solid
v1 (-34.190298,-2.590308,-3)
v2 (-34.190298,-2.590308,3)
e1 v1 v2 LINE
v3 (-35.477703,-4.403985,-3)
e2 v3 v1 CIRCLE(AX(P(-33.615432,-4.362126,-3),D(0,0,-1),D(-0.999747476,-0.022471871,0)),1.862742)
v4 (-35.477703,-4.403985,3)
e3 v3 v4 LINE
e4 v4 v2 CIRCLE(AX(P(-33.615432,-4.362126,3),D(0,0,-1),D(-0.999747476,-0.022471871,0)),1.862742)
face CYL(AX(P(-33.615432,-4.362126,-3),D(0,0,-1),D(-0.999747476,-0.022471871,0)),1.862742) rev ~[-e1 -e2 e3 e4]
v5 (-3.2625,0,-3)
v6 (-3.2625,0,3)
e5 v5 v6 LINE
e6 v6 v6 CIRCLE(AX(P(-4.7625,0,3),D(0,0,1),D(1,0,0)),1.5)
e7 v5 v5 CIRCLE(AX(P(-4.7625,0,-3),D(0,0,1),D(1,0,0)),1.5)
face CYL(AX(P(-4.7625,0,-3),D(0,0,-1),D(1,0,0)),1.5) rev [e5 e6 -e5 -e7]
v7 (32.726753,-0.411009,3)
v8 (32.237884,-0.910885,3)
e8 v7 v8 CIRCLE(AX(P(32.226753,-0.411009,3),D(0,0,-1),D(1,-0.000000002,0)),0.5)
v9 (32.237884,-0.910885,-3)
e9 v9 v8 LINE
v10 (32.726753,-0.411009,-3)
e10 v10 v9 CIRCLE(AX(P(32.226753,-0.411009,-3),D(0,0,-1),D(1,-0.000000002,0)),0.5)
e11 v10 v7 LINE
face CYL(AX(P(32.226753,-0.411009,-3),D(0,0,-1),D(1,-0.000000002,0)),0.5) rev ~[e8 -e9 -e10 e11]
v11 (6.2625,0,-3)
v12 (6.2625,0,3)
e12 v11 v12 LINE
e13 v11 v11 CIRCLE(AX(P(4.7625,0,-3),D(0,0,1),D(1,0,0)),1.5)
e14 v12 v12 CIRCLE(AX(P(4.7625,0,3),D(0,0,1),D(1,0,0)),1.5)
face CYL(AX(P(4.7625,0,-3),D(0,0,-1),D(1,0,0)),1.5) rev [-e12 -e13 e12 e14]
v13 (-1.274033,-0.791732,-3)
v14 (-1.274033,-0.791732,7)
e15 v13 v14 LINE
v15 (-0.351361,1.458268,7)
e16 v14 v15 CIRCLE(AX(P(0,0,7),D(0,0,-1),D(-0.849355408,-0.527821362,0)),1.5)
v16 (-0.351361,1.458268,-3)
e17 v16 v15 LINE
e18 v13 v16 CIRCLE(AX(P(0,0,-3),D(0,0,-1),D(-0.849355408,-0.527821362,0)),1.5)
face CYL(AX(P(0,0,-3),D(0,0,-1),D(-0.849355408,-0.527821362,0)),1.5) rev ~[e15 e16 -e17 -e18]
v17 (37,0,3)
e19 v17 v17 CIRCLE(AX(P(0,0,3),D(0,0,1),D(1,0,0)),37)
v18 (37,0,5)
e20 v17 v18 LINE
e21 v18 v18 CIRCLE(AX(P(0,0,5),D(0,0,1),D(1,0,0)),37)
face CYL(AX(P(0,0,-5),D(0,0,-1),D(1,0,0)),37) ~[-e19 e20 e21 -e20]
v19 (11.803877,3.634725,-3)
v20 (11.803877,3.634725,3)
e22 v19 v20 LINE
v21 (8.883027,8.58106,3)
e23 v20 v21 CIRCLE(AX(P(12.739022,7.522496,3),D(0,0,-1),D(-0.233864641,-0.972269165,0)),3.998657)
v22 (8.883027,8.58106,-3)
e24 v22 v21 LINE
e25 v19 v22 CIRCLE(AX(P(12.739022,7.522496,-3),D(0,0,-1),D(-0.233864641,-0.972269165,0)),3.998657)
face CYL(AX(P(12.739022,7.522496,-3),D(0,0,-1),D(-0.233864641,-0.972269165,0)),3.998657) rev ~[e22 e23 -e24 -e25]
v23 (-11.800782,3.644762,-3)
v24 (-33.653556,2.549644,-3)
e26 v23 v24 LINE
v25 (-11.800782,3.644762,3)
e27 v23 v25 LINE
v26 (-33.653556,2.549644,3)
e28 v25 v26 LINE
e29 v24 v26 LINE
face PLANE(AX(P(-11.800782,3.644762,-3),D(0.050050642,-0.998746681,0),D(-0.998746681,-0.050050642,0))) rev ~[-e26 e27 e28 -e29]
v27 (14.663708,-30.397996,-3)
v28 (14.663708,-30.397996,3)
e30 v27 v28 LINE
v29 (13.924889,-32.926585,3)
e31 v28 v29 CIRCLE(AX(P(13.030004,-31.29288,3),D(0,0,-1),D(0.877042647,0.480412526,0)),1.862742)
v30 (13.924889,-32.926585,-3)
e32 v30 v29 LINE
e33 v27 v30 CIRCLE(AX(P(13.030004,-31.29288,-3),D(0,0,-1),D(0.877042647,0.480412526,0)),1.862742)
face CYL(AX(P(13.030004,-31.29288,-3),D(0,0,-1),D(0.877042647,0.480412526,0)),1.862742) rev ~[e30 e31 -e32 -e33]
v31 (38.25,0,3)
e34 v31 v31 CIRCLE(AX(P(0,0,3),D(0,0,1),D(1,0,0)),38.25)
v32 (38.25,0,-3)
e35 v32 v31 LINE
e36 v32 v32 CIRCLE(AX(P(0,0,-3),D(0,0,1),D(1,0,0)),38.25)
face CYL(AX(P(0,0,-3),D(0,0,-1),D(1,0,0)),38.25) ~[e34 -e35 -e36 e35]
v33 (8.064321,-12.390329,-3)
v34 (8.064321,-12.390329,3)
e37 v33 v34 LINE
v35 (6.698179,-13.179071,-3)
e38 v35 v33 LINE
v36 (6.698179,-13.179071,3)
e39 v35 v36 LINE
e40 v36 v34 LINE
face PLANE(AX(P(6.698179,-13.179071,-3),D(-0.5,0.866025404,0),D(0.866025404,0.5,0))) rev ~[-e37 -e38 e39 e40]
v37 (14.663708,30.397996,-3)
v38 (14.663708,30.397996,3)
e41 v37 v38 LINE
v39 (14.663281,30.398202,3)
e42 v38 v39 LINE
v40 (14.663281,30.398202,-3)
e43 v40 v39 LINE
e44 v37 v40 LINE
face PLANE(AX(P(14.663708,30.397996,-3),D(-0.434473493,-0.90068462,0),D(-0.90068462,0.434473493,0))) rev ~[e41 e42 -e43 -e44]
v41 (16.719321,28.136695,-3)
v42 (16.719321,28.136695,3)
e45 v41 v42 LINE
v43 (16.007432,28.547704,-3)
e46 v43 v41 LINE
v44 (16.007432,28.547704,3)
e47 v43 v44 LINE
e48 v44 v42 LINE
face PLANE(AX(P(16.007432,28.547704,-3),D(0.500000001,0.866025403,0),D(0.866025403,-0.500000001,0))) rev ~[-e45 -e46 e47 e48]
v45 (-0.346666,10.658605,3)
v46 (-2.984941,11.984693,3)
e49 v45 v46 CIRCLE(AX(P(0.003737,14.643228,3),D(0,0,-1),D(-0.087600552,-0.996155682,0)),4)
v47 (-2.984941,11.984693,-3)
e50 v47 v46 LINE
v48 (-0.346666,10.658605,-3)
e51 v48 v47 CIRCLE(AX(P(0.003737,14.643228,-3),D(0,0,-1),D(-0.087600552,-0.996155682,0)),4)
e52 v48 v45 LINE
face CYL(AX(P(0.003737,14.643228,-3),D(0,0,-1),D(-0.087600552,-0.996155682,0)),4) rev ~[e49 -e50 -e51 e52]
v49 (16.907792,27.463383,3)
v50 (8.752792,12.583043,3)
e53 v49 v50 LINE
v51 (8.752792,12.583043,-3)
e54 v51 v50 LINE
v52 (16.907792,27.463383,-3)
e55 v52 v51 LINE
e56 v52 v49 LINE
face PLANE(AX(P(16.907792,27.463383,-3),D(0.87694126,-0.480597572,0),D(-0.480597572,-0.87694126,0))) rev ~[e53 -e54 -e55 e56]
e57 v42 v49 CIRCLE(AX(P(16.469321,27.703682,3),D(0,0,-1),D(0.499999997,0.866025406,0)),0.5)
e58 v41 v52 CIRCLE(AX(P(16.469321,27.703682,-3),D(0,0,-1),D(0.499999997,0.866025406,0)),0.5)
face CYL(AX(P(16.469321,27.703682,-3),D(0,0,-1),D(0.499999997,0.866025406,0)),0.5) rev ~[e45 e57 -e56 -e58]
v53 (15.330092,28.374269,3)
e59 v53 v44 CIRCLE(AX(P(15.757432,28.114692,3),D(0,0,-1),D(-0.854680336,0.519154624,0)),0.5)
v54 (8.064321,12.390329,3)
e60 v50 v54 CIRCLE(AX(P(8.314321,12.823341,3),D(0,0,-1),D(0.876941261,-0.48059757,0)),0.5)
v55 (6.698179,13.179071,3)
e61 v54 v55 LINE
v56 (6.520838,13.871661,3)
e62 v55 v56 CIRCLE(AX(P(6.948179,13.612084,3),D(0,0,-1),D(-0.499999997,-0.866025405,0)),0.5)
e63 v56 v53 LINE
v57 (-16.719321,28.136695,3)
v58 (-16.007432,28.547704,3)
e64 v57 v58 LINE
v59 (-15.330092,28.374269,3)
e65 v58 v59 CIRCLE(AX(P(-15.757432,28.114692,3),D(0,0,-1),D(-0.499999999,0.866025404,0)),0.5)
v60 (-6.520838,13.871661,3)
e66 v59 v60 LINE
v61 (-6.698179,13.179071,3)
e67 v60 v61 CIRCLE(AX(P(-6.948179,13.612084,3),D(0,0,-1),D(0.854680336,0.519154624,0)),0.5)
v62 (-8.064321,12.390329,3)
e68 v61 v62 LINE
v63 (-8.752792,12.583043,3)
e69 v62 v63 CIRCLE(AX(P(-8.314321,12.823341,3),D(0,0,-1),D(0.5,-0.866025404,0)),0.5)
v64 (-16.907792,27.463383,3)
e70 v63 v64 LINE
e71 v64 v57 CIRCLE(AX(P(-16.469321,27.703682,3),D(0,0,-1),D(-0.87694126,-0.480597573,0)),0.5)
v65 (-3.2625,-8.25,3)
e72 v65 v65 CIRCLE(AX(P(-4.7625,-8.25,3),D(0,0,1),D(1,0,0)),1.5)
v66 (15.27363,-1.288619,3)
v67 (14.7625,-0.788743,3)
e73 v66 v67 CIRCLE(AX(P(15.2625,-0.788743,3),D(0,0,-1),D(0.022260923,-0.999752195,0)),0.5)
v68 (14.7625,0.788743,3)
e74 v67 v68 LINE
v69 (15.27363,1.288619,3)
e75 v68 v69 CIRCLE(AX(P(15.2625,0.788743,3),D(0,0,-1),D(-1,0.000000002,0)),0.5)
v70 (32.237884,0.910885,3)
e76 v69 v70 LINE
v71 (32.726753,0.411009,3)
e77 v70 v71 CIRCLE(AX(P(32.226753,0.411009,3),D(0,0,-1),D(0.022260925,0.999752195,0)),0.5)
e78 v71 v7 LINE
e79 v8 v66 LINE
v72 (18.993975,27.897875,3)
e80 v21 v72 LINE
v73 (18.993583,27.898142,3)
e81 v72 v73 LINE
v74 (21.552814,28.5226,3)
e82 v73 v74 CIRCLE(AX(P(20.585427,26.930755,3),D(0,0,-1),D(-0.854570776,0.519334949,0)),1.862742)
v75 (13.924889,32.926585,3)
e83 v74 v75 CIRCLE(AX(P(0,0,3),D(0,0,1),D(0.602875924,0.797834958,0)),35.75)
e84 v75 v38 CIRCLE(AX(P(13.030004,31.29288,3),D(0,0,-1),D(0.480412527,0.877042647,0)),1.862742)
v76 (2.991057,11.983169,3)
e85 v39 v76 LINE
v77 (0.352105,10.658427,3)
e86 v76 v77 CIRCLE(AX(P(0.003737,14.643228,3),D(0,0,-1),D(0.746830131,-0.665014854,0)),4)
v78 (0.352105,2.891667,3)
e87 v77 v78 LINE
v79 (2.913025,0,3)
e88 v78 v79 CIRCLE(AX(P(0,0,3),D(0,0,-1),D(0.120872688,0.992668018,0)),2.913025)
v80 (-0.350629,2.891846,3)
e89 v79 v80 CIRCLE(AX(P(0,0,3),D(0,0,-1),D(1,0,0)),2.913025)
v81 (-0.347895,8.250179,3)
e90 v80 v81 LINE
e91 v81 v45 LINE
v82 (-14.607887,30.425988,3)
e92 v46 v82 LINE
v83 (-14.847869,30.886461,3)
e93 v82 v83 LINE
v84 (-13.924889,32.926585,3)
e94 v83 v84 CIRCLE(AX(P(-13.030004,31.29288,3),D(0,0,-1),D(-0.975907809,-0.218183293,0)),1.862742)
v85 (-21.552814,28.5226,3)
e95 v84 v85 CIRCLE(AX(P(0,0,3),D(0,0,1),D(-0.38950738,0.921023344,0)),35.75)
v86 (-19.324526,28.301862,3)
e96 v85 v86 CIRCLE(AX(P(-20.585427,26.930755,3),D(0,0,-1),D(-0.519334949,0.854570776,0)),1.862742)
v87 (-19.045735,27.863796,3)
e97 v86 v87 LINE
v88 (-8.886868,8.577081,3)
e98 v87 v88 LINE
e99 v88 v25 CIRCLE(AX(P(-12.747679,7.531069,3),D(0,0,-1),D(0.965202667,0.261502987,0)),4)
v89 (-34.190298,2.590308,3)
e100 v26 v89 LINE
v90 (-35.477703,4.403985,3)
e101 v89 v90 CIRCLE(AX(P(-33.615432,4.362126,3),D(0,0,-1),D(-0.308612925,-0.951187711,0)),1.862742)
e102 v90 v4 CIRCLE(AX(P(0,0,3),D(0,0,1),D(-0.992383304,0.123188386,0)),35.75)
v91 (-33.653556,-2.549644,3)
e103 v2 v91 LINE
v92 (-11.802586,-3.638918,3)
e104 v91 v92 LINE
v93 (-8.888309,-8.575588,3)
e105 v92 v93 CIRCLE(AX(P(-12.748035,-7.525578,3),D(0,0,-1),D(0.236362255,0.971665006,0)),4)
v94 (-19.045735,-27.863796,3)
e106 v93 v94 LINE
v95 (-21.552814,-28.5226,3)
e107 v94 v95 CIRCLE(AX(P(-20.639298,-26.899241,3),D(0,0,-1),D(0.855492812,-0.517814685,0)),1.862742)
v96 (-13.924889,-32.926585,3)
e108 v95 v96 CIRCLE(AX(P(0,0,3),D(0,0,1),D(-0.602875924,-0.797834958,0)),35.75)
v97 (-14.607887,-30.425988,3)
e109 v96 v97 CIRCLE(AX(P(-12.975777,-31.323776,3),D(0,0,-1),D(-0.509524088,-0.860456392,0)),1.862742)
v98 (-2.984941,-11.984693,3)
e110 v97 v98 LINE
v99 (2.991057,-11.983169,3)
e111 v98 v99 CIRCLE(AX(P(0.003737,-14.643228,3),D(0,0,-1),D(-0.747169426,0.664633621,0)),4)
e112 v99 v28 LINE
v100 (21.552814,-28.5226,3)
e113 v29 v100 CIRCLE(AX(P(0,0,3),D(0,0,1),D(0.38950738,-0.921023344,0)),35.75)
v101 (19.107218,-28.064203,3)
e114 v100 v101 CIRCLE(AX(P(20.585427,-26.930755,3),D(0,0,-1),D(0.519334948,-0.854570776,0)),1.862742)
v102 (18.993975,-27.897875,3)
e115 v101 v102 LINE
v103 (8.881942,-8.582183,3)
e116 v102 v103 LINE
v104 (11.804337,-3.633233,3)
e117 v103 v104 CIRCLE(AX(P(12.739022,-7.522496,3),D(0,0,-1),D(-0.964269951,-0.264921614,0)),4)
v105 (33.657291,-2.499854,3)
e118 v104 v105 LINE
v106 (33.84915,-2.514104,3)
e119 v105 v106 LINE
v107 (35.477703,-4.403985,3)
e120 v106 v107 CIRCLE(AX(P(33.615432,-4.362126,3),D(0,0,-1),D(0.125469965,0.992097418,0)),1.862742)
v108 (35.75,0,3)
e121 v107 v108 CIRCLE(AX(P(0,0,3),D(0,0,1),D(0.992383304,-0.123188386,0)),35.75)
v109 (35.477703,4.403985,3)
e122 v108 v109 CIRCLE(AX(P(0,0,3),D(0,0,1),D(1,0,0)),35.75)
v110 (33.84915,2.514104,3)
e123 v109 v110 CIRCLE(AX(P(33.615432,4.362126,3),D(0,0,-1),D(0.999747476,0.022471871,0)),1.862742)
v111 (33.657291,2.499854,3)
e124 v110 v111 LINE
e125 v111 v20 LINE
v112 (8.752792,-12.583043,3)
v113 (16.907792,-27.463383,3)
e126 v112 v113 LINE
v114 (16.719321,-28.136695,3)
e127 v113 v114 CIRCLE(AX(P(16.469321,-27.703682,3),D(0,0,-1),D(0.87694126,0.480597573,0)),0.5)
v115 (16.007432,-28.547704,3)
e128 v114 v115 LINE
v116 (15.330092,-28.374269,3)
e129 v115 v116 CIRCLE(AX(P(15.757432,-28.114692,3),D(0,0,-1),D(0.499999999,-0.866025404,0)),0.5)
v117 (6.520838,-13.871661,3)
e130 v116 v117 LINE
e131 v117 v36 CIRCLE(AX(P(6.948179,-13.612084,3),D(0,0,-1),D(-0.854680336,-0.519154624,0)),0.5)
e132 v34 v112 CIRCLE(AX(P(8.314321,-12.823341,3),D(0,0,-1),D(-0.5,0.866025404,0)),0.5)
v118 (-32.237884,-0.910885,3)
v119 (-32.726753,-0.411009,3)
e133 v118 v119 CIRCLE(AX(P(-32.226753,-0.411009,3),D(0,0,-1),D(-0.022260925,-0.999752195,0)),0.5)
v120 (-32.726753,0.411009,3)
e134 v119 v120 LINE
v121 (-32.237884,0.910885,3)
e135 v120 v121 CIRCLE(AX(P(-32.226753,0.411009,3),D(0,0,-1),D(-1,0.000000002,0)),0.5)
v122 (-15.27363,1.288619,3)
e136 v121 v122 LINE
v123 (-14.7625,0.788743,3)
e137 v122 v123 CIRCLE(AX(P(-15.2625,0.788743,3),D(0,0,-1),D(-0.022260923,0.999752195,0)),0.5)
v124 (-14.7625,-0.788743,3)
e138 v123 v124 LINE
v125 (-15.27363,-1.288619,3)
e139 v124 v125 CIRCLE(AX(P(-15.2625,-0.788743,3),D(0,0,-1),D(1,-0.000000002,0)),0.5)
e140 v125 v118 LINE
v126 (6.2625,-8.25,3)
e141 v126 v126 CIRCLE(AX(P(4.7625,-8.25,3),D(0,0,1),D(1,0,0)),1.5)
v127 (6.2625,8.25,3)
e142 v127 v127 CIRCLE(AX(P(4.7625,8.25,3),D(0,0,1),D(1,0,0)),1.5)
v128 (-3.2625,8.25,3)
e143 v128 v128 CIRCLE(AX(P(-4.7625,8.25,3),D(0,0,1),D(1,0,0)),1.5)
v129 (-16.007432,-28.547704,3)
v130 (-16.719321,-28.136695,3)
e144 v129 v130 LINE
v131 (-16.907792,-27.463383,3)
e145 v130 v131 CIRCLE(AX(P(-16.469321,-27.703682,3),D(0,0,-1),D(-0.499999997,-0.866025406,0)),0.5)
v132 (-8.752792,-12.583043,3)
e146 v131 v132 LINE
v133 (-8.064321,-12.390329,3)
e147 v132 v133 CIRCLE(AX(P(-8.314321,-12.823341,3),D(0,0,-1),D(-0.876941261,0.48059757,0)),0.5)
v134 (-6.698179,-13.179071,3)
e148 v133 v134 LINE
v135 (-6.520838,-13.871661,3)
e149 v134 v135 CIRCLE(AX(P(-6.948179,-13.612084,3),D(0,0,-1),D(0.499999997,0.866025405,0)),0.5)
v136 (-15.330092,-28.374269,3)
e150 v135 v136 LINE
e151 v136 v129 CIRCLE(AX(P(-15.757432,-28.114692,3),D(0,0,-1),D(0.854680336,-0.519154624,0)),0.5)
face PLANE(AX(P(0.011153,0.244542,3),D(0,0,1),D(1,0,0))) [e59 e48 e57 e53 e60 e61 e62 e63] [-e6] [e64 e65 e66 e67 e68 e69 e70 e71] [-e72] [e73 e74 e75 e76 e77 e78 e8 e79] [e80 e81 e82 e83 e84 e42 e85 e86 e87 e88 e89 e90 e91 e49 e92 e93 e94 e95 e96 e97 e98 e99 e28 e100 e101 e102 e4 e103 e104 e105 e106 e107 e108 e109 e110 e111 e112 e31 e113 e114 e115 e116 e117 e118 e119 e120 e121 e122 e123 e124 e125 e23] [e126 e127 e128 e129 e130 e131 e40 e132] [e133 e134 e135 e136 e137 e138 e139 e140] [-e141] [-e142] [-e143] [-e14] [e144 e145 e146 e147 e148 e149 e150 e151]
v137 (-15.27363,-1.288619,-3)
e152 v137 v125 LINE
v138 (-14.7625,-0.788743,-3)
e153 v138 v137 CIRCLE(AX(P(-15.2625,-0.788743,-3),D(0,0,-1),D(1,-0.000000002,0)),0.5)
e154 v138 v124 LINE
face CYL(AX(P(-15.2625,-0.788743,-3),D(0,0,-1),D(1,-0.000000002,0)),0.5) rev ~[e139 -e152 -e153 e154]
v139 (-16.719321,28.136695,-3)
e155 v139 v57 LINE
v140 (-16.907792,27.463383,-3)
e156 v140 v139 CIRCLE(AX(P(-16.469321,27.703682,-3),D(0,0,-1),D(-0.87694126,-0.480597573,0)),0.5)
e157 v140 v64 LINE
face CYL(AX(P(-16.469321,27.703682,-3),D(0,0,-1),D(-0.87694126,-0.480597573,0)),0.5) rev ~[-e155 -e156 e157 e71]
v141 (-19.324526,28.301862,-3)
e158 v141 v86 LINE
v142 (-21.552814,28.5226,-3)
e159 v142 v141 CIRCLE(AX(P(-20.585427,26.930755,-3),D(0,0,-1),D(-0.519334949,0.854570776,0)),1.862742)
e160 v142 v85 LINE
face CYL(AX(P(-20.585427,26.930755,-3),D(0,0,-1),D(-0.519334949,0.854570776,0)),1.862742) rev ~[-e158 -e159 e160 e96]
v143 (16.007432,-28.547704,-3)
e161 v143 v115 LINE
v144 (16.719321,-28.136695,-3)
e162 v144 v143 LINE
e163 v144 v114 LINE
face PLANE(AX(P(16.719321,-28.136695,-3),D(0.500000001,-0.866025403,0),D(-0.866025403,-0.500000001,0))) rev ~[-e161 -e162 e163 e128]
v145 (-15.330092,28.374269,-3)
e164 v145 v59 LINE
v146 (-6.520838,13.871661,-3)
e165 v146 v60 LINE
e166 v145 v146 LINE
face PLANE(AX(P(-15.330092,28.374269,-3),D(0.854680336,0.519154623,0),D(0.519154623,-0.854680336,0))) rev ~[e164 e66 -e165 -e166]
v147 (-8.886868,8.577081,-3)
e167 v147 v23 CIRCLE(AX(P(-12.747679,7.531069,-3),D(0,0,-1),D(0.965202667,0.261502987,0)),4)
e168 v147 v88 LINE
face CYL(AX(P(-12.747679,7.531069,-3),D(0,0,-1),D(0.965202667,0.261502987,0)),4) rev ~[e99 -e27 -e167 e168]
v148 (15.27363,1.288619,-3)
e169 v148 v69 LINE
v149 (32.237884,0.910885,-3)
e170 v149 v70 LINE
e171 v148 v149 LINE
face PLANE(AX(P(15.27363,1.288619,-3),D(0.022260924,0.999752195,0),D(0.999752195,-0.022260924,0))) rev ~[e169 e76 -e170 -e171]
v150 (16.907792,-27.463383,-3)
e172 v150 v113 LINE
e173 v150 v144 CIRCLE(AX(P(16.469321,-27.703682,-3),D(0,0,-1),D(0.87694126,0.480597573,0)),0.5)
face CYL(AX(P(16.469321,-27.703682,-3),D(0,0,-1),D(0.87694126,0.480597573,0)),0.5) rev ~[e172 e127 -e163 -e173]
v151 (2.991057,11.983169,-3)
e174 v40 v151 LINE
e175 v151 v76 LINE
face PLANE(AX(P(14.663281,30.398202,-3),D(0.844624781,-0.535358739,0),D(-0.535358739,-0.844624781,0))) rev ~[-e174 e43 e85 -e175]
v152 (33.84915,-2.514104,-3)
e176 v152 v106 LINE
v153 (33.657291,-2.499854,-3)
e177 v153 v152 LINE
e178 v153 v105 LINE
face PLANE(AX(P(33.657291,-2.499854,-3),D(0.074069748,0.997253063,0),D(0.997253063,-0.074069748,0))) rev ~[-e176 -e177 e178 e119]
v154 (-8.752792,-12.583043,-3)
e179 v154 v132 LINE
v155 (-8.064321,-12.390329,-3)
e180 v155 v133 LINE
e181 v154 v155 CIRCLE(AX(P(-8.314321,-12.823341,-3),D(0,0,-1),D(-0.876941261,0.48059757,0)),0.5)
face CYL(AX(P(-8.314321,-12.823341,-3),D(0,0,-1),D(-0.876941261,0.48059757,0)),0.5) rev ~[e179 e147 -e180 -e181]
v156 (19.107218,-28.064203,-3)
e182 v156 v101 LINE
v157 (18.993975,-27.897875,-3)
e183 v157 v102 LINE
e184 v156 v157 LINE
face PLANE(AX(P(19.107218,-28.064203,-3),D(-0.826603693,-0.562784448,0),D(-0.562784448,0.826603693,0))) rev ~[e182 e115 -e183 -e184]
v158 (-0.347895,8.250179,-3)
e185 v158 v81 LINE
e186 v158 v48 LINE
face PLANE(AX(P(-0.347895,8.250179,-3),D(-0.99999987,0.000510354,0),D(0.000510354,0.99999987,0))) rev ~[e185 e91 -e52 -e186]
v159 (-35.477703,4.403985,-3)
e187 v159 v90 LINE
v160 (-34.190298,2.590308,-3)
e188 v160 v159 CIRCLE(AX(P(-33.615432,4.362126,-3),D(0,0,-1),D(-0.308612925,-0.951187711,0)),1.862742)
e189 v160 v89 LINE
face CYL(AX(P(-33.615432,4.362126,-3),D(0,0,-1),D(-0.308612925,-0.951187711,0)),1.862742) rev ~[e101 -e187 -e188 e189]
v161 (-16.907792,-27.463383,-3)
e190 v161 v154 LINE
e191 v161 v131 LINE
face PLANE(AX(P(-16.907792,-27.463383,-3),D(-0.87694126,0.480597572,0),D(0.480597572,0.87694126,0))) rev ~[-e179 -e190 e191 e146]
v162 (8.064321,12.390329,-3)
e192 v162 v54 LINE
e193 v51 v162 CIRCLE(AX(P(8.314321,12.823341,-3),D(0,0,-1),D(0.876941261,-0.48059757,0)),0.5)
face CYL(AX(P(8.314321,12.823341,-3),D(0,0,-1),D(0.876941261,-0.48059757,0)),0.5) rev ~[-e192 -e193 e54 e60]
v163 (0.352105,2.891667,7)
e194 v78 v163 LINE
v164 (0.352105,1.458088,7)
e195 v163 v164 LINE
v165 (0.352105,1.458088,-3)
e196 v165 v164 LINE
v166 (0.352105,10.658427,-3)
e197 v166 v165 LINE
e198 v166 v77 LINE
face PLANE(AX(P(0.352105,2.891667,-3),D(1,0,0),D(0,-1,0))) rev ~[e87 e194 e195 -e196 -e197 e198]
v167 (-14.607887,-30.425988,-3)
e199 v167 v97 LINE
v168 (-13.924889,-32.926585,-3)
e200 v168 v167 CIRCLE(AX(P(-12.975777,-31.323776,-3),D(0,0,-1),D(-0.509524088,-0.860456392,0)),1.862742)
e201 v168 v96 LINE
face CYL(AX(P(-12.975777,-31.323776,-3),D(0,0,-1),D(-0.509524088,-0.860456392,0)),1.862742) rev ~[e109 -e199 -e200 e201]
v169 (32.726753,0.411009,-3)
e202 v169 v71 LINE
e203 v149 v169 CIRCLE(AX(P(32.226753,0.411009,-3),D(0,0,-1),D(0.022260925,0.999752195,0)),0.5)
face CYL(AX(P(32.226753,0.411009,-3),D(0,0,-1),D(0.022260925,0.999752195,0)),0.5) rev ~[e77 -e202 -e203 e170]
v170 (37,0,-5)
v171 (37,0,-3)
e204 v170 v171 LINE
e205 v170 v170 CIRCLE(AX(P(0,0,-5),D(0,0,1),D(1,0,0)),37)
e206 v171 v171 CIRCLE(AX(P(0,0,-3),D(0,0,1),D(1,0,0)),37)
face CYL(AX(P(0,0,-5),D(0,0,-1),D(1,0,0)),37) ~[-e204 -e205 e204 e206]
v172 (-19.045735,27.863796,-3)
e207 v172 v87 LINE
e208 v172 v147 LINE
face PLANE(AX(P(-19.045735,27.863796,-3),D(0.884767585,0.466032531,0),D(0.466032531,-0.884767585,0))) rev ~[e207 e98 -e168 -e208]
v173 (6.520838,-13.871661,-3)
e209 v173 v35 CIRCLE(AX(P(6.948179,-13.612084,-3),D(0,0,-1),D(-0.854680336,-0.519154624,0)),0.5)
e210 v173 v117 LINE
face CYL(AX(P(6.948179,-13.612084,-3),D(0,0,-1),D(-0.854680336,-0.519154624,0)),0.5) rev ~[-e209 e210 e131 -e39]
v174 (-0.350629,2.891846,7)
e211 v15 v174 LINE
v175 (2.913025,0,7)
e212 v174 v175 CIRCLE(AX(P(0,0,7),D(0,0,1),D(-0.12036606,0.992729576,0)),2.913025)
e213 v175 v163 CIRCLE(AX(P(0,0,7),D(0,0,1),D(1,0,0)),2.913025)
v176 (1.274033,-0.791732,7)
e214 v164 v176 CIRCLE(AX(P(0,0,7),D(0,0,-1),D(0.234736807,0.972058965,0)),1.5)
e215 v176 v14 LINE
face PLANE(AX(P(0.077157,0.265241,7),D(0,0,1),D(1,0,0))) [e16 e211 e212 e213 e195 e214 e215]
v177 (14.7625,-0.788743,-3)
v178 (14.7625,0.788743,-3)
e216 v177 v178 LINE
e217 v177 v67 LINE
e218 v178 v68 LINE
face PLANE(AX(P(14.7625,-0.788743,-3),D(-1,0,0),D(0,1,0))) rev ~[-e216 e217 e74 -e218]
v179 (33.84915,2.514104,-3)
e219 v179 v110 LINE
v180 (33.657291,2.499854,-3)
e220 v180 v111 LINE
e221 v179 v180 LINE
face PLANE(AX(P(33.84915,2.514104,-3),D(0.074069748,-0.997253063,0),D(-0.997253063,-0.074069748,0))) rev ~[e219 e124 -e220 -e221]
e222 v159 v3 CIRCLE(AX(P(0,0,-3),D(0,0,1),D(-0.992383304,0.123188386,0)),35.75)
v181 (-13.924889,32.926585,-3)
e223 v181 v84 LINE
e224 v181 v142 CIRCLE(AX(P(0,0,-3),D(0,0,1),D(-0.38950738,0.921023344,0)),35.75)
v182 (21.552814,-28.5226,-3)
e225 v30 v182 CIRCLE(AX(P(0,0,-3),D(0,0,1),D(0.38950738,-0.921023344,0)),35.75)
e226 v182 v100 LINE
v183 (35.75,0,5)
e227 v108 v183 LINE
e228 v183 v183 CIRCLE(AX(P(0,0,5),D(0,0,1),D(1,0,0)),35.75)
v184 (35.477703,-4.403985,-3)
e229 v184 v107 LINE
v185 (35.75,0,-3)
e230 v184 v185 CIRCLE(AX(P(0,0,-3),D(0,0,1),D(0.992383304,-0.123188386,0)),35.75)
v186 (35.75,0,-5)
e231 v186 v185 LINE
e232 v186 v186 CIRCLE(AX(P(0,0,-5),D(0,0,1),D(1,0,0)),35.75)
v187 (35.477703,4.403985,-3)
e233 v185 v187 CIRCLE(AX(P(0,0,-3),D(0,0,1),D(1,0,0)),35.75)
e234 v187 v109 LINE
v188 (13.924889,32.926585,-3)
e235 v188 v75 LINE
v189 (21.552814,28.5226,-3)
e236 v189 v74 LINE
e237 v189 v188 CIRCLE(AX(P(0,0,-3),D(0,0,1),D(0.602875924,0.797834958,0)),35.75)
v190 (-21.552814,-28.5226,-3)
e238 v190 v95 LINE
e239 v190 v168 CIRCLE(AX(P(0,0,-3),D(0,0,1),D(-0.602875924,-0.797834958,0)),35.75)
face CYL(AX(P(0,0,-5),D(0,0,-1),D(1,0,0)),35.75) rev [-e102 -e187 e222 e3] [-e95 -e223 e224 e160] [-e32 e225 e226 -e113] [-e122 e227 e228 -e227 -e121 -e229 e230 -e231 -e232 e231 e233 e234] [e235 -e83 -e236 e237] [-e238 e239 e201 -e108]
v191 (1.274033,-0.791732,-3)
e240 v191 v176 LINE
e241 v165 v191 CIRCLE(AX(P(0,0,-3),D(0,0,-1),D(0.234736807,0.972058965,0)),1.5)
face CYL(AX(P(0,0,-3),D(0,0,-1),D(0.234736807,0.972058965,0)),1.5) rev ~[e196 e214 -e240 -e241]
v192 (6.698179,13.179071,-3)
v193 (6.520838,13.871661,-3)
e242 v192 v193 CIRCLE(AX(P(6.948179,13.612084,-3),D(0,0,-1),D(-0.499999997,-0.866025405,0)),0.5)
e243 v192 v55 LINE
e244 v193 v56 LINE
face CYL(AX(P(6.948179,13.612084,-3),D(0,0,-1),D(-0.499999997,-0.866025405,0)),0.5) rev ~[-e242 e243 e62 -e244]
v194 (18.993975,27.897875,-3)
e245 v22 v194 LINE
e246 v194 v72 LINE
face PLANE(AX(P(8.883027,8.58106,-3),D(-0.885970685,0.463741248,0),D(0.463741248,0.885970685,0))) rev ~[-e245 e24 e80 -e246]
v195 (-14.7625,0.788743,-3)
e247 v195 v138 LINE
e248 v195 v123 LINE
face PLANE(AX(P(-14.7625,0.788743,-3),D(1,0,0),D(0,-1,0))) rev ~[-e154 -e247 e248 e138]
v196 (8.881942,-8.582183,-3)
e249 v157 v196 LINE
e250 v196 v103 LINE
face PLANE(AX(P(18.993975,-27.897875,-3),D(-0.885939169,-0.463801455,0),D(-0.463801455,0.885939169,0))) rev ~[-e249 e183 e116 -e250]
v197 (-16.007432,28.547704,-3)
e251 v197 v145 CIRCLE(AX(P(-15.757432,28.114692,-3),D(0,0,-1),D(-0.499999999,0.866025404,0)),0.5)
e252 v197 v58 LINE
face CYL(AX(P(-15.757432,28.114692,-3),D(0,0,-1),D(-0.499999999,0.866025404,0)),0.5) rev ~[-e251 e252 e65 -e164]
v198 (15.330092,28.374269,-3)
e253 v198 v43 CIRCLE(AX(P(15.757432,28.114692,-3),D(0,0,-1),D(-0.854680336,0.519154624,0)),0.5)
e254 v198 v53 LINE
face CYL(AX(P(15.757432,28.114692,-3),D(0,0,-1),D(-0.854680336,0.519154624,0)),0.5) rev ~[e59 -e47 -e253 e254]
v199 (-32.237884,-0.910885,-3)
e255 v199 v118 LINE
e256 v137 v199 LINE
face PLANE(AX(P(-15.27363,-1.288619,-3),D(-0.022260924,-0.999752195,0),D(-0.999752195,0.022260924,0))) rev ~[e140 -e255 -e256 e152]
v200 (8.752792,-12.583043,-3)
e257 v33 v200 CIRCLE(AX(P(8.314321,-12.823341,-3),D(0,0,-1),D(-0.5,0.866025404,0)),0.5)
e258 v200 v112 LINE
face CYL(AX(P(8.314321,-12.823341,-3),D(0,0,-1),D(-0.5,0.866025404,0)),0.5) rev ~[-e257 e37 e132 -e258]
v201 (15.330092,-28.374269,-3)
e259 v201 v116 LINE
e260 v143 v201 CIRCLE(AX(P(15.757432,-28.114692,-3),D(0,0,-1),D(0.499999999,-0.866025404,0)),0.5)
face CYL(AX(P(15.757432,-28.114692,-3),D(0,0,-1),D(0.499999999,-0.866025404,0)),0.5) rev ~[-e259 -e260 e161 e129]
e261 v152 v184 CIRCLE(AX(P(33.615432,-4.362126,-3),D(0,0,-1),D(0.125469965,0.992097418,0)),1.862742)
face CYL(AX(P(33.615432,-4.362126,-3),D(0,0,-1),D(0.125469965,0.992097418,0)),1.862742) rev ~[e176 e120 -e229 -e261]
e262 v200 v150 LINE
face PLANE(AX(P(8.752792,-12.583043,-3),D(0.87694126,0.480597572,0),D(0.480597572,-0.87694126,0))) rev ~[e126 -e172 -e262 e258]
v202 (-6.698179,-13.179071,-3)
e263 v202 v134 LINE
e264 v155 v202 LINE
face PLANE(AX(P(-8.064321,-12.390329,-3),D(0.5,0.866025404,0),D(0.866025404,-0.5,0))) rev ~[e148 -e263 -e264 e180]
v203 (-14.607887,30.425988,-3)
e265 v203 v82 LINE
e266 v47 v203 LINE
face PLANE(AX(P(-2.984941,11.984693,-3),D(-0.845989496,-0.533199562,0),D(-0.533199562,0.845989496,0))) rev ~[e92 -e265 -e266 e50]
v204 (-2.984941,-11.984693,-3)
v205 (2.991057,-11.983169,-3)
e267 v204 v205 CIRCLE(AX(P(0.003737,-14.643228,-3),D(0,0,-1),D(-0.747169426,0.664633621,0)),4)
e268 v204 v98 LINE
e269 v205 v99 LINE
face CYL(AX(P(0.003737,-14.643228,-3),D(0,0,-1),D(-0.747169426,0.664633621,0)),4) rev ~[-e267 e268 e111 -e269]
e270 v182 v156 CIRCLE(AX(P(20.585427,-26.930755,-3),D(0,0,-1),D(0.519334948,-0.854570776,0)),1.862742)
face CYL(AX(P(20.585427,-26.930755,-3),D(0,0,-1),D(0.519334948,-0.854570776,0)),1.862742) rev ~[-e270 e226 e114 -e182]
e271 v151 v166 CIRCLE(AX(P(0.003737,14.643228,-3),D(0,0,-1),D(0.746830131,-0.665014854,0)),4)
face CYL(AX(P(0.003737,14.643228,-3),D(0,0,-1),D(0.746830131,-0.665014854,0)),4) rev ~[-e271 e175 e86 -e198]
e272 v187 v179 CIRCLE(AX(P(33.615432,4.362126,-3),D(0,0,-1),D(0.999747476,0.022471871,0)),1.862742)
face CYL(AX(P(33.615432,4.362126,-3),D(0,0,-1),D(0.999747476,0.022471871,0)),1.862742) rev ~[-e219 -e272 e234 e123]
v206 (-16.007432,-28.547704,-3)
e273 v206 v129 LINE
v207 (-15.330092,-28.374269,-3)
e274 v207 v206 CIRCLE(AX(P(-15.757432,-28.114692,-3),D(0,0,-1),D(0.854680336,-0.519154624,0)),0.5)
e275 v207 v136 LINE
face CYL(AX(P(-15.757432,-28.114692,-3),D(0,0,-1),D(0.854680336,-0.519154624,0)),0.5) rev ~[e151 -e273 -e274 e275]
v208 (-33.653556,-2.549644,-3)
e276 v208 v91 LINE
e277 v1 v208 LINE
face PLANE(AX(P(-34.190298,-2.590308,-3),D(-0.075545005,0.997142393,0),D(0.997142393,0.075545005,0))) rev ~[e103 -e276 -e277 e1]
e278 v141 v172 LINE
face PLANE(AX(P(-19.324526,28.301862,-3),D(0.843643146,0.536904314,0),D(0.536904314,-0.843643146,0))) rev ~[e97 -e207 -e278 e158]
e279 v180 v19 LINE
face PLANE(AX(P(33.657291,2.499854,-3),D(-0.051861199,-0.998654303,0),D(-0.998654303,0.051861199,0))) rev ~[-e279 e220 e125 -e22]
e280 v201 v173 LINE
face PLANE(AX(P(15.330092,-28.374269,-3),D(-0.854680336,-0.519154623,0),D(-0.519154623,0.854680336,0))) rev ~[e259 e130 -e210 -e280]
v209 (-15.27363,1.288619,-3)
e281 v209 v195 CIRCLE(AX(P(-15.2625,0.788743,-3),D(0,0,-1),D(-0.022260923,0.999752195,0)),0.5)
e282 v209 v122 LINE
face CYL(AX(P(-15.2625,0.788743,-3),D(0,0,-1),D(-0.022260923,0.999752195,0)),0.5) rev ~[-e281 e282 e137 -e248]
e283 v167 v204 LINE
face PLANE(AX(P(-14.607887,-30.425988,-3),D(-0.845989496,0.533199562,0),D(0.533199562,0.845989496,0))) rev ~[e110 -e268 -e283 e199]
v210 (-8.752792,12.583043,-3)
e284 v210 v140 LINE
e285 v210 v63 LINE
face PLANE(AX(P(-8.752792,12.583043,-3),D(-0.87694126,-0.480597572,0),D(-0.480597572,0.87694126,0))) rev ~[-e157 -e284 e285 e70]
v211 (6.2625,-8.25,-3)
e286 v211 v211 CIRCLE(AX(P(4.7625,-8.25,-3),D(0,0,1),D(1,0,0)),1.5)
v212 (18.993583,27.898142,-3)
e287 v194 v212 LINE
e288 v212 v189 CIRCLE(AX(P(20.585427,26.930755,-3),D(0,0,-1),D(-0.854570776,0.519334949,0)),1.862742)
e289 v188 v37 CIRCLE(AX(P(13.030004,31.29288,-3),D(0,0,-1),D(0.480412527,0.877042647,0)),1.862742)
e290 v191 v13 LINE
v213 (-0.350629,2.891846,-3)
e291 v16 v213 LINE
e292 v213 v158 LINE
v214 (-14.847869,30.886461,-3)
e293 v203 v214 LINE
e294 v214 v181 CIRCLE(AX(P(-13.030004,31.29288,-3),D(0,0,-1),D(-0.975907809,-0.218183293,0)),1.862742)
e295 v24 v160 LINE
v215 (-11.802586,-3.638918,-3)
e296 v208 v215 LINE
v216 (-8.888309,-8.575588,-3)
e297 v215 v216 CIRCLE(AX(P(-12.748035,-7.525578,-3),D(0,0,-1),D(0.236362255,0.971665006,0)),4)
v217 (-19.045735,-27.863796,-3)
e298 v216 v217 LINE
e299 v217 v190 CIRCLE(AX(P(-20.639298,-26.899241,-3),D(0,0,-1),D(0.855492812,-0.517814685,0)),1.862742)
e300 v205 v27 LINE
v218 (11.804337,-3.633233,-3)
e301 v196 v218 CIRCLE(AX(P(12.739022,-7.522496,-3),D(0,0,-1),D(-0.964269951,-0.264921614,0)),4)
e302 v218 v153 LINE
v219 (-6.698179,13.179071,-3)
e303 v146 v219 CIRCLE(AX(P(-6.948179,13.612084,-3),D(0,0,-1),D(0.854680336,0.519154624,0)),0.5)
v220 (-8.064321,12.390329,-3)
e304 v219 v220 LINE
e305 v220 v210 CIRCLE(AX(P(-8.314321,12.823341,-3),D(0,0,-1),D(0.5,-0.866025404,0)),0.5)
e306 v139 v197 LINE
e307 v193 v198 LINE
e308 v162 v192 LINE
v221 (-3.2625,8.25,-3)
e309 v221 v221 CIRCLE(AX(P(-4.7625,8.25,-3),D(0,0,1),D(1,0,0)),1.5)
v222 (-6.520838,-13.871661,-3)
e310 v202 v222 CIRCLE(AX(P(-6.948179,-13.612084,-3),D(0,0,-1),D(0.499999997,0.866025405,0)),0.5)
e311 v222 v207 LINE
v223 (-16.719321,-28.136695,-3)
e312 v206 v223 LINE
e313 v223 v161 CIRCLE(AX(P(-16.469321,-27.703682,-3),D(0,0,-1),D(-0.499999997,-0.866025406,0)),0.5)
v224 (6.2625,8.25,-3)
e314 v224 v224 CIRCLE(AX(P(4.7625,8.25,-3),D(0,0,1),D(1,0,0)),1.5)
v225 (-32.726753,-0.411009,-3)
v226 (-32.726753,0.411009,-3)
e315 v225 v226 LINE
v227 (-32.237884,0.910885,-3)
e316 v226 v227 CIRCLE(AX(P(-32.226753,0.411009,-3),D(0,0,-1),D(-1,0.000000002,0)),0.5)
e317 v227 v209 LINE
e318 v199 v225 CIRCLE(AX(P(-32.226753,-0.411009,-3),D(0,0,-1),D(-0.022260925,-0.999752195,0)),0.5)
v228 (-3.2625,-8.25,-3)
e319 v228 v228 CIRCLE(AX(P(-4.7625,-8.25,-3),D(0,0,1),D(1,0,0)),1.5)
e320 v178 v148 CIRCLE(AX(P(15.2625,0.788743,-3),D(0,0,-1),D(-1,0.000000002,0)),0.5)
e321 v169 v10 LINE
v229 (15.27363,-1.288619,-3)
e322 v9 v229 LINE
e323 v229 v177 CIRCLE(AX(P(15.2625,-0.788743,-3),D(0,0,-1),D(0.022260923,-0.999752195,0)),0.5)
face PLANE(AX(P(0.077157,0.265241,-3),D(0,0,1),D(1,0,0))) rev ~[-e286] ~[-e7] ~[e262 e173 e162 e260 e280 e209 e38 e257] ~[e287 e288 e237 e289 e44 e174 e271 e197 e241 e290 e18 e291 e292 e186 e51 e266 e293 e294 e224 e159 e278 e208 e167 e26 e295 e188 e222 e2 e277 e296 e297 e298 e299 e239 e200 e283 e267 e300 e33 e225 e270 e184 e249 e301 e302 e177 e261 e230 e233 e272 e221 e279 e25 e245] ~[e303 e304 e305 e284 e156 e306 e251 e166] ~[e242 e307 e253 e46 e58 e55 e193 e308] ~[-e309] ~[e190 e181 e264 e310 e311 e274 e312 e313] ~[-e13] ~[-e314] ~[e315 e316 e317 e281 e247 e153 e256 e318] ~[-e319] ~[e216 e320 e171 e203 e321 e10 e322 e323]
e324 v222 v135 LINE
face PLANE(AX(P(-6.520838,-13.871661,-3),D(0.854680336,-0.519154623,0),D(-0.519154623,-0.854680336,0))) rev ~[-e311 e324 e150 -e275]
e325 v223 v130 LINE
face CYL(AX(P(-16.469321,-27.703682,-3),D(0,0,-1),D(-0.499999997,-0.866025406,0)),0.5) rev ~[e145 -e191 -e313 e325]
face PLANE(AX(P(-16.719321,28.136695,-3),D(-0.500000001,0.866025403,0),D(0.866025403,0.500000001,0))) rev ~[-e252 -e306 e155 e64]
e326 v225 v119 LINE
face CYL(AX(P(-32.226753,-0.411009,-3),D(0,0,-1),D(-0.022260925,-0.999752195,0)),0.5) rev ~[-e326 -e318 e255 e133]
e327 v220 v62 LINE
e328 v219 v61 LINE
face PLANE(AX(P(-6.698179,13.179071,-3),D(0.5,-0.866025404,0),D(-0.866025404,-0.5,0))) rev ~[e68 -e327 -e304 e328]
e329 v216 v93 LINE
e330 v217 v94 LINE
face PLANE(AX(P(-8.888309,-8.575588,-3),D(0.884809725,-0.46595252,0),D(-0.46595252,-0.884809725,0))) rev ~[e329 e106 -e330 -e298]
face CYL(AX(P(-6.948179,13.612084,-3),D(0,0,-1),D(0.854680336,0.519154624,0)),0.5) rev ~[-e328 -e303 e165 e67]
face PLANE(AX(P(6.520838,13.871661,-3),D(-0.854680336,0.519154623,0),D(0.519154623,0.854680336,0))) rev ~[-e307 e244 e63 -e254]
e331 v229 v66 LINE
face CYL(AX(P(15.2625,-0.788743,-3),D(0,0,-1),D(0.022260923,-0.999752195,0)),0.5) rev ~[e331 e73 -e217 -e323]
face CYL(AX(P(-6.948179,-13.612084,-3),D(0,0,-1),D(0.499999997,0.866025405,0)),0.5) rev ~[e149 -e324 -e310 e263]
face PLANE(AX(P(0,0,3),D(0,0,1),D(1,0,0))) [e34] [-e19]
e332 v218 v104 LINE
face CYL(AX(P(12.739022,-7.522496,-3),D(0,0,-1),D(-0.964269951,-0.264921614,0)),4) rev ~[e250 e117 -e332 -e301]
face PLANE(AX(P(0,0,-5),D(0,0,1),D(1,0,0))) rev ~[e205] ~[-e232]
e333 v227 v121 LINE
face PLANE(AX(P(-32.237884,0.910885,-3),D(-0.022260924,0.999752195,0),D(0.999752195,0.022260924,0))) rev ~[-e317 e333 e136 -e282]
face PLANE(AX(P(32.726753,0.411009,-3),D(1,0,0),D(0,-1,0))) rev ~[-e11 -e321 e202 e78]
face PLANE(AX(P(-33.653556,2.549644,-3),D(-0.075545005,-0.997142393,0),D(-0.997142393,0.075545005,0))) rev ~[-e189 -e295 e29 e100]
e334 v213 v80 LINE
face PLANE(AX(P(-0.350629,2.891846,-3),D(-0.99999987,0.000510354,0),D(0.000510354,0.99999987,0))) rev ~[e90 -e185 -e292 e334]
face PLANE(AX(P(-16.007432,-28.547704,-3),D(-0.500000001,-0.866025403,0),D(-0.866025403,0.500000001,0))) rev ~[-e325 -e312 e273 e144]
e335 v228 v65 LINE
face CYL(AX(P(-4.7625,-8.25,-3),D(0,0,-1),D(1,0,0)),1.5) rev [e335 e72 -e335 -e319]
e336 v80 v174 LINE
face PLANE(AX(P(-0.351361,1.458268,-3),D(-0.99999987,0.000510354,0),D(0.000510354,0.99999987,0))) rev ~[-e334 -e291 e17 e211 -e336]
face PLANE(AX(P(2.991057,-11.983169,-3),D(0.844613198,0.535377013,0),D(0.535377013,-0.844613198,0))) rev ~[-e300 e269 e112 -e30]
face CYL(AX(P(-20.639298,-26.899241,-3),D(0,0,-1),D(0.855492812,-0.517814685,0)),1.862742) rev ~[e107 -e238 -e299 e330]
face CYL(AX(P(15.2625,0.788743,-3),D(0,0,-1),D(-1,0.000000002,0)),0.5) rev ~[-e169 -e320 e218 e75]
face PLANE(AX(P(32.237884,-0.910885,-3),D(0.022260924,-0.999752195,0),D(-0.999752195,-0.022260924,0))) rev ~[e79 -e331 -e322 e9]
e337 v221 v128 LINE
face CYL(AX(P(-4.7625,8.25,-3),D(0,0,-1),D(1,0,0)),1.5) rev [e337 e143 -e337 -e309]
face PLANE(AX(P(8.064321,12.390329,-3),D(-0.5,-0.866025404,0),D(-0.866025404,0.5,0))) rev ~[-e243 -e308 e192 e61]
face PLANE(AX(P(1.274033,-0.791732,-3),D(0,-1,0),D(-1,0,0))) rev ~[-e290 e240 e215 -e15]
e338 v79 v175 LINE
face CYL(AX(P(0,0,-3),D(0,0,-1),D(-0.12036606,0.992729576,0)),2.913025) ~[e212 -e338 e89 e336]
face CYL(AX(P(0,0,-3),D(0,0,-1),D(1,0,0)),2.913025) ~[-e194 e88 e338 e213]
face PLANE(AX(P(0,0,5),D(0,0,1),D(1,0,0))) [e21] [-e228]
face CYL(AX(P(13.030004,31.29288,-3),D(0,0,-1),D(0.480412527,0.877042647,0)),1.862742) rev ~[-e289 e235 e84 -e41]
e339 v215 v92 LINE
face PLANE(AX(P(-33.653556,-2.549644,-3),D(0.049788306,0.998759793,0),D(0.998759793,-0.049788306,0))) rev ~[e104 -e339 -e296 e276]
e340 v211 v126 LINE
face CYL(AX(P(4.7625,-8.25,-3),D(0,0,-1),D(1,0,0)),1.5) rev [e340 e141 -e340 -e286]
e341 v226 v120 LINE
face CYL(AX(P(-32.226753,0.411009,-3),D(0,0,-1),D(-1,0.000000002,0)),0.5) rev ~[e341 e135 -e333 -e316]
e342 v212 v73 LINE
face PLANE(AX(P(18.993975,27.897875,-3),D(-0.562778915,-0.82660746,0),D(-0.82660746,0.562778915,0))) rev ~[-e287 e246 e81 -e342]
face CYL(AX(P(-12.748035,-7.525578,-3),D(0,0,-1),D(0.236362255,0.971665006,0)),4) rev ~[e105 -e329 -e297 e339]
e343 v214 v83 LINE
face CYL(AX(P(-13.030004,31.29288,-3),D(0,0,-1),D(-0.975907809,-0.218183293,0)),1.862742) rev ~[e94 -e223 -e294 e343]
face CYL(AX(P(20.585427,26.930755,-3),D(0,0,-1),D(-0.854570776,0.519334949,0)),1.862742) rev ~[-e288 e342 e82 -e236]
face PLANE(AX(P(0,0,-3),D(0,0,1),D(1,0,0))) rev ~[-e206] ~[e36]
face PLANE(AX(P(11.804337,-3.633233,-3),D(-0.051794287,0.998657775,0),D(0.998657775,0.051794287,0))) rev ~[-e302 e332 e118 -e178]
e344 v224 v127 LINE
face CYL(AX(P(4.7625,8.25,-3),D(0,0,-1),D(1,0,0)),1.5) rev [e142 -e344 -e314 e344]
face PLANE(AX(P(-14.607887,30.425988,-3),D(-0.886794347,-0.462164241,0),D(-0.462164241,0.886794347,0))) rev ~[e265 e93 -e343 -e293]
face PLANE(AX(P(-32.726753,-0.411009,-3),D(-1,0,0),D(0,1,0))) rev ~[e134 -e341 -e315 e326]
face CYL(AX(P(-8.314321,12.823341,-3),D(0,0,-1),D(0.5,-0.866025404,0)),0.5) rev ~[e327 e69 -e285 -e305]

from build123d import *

# Parameters (mm, degrees)
Y_KSEKLIK_EKSTR_ZYON5_DEPTH      = 5
Y_KSEKLIK_EKSTR_ZYON5_DEPTH_BACK = 5
IZIM1_R                          = 37
IZIM1_R_2                        = 35.75
Y_KSEKLIK_EKSTR_ZYON6_DEPTH      = 3
Y_KSEKLIK_EKSTR_ZYON6_DEPTH_BACK = 3
IZIM1_13_R                       = 38.25
IZIM1_13_R_2                     = 37
Y_KSEKLIK_EKSTR_ZYON7_DEPTH      = 3
Y_KSEKLIK_EKSTR_ZYON7_DEPTH_BACK = 3
IZIM1_14_R                       = 1.5
Y_KSEKLIK_EKSTR_ZYON8_DEPTH      = 7
Y_KSEKLIK_EKSTR_ZYON8_DEPTH_BACK = 3


with BuildPart() as part:
    # Çizim1 → Yükseklik-Ekstrüzyon5 (new, two sides: drawn at the far end of the back side and taken through both)
    with BuildSketch(Plane.XY.offset(-Y_KSEKLIK_EKSTR_ZYON5_DEPTH_BACK)):
        Circle(IZIM1_R)
        Circle(IZIM1_R_2, mode=Mode.SUBTRACT)
    extrude(amount=Y_KSEKLIK_EKSTR_ZYON5_DEPTH + Y_KSEKLIK_EKSTR_ZYON5_DEPTH_BACK)

    # Çizim1<13> → Yükseklik-Ekstrüzyon6 (add, two sides: drawn at the far end of the back side and taken through both)
    with BuildSketch(Plane.XY.offset(-Y_KSEKLIK_EKSTR_ZYON6_DEPTH_BACK)):
        Circle(IZIM1_13_R)
        Circle(IZIM1_13_R_2, mode=Mode.SUBTRACT)
    extrude(amount=Y_KSEKLIK_EKSTR_ZYON6_DEPTH + Y_KSEKLIK_EKSTR_ZYON6_DEPTH_BACK)

    # Çizim1<14> → Yükseklik-Ekstrüzyon7 (add, two sides: drawn at the far end of the back side and taken through both)
    with BuildSketch(Plane.XY.offset(-Y_KSEKLIK_EKSTR_ZYON7_DEPTH_BACK)):
        with BuildLine():
            Line((0.352105211, 10.658426892), (0.352105211, 8.25))
            Line((0.352105211, 8.25), (0.352105211, 2.891667151))
            ThreePointArc((0.352105211, 2.891667151), (2.180757714, 1.931324101), (2.913025402, 0))
            ThreePointArc((2.913025402, 0), (-1.931880518, -2.180264813), (-0.350629391, 2.891846473))
            Line((-0.350629391, 2.891846473), (-0.347894744, 8.250178624))
            Line((-0.347894744, 8.250178624), (-0.346665593, 10.658605202))
            ThreePointArc((-0.346665593, 10.658605202), (-1.792646187, 11.069293289), (-2.984941087, 11.98469345))
            Line((-2.984941087, 11.98469345), (-14.607887345, 30.4259885))
            Line((-14.607887345, 30.4259885), (-14.847868654, 30.886461313))
            ThreePointArc((-14.847868654, 30.886461313), (-14.727142284, 32.060689053), (-13.92488883, 32.926584565))
            ThreePointArc((-13.92488883, 32.926584565), (-17.875, 30.960408185), (-21.552814278, 28.522599754))
            ThreePointArc((-21.552814278, 28.522599754), (-20.401800041, 28.78442387), (-19.324525803, 28.301862102))
            Line((-19.324525803, 28.301862102), (-19.045735303, 27.863795787))
            Line((-19.045735303, 27.863795787), (-8.886868167, 8.577081355))
            ThreePointArc((-8.886868167, 8.577081355), (-9.303777514, 5.496482546), (-11.800782256, 3.644761794))
            Line((-11.800782256, 3.644761794), (-33.653555768, 2.549643924))
            Line((-33.653555768, 2.549643924), (-34.19029782, 2.590308308))
            ThreePointArc((-34.19029782, 2.590308308), (-35.134400226, 3.283913251), (-35.477703108, 4.403984811))
            ThreePointArc((-35.477703108, 4.403984811), (-35.75, 0), (-35.477703108, -4.403984811))
            ThreePointArc((-35.477703108, -4.403984811), (-35.134400226, -3.283913251), (-34.19029782, -2.590308308))
            Line((-34.19029782, -2.590308308), (-33.653555768, -2.549643924))
            Line((-33.653555768, -2.549643924), (-11.802585687, -3.638917628))
            ThreePointArc((-11.802585687, -3.638917628), (-9.303458853, -5.492132995), (-8.888309481, -8.575587733))
            Line((-8.888309481, -8.575587733), (-19.045735303, -27.863795787))
            ThreePointArc((-19.045735303, -27.863795787), (-20.165883221, -28.700819486), (-21.552814278, -28.522599754))
            ThreePointArc((-21.552814278, -28.522599754), (-17.875, -30.960408185), (-13.92488883, -32.926584565))
            ThreePointArc((-13.92488883, -32.926584565), (-14.772697173, -31.814576902), (-14.607887345, -30.4259885))
            Line((-14.607887345, -30.4259885), (-2.984941087, -11.98469345))
            ThreePointArc((-2.984941087, -11.98469345), (0.002715908, -10.643228062), (2.991057136, -11.983168513))
            Line((2.991057136, -11.983168513), (14.663708375, -30.397995932))
            ThreePointArc((14.663708375, -30.397995932), (14.817986455, -31.815304786), (13.92488883, -32.926584565))
            ThreePointArc((13.92488883, -32.926584565), (17.875, -30.960408185), (21.552814278, -28.522599754))
            ThreePointArc((21.552814278, -28.522599754), (20.242255546, -28.76161283), (19.107217792, -28.064202809))
            Line((19.107217792, -28.064202809), (18.993975038, -27.89787469))
            Line((18.993975038, -27.89787469), (8.881942007, -8.582182507))
            ThreePointArc((8.881942007, -8.582182507), (9.294710999, -5.488602486), (11.804336715, -3.633233425))
            Line((11.804336715, -3.633233425), (33.657290889, -2.499854))
            Line((33.657290889, -2.499854), (33.849149755, -2.514104082))
            ThreePointArc((33.849149755, -2.514104082), (35.026532395, -3.146147751), (35.477703108, -4.403984811))
            ThreePointArc((35.477703108, -4.403984811), (35.681860841, -2.206197397), (35.75, 0))
            ThreePointArc((35.75, 0), (35.681860841, 2.206197397), (35.477703108, 4.403984811))
            ThreePointArc((35.477703108, 4.403984811), (35.026532395, 3.146147751), (33.849149755, 2.514104082))
            Line((33.849149755, 2.514104082), (33.657290889, 2.499854))
            Line((33.657290889, 2.499854), (11.803877394, 3.634725418))
            ThreePointArc((11.803877394, 3.634725418), (9.295867667, 5.489285508), (8.88302669, 8.581059795))
            Line((8.88302669, 8.581059795), (18.993975038, 27.89787469))
            Line((18.993975038, 27.89787469), (18.993582514, 27.898141932))
            ThreePointArc((18.993582514, 27.898141932), (20.143868947, 28.740405096), (21.552814278, 28.522599754))
            ThreePointArc((21.552814278, 28.522599754), (17.875, 30.960408185), (13.92488883, 32.926584565))
            ThreePointArc((13.92488883, 32.926584565), (14.817986455, 31.815304786), (14.663708375, 30.397995932))
            Line((14.663708375, 30.397995932), (14.663280674, 30.398202247))
            Line((14.663280674, 30.398202247), (2.991057136, 11.983168513))
            ThreePointArc((2.991057136, 11.983168513), (1.798295213, 11.068376963), (0.352105211, 10.658426892))
        make_face()
        with BuildLine():
            ThreePointArc((-15.330091906, -28.374268836), (-15.633406502, -28.599064993), (-16.007432074, -28.547704226))
            Line((-16.007432074, -28.547704226), (-16.719321042, -28.136694938))
            ThreePointArc((-16.719321042, -28.136694938), (-16.950813558, -27.838459675), (-16.907791673, -27.46338345))
            Line((-16.907791673, -27.46338345), (-8.752791972, -12.583042517))
            ThreePointArc((-8.752791972, -12.583042517), (-8.44909878, -12.341848787), (-8.064321341, -12.3903286))
            Line((-8.064321341, -12.3903286), (-6.698178659, -13.179071446))
            ThreePointArc((-6.698178659, -13.179071446), (-6.463805189, -13.488058576), (-6.52083849, -13.87166146))
            Line((-6.52083849, -13.87166146), (-15.330091906, -28.374268836))
        make_face(mode=Mode.SUBTRACT)
        with Locations((-4.7625, -8.25)):
            Circle(IZIM1_14_R, mode=Mode.SUBTRACT)
        with BuildLine():
            Line((16.719321042, -28.136694938), (16.007432074, -28.547704226))
            ThreePointArc((16.007432074, -28.547704226), (15.633406502, -28.599064993), (15.330091906, -28.374268836))
            Line((15.330091906, -28.374268836), (6.52083849, -13.87166146))
            ThreePointArc((6.52083849, -13.87166146), (6.463805189, -13.488058576), (6.698178659, -13.179071446))
            Line((6.698178659, -13.179071446), (8.064321341, -12.3903286))
            ThreePointArc((8.064321341, -12.3903286), (8.44909878, -12.341848787), (8.752791972, -12.583042517))
            Line((8.752791972, -12.583042517), (16.907791673, -27.46338345))
            ThreePointArc((16.907791673, -27.46338345), (16.950813558, -27.838459675), (16.719321042, -28.136694938))
        make_face(mode=Mode.SUBTRACT)
        with Locations((4.7625, -8.25)):
            Circle(IZIM1_14_R, mode=Mode.SUBTRACT)
        with BuildLine():
            Line((-32.726753116, -0.411009288), (-32.726753116, 0.411009288))
            ThreePointArc((-32.726753116, 0.411009288), (-32.584220059, 0.760605318), (-32.237883578, 0.910885385))
            Line((-32.237883578, 0.910885385), (-15.273630462, 1.288618943))
            ThreePointArc((-15.273630462, 1.288618943), (-14.91290397, 1.146209789), (-14.7625, 0.788742846))
            Line((-14.7625, 0.788742846), (-14.7625, -0.788742846))
            ThreePointArc((-14.7625, -0.788742846), (-14.91290397, -1.146209789), (-15.273630462, -1.288618943))
            Line((-15.273630462, -1.288618943), (-32.237883578, -0.910885385))
            ThreePointArc((-32.237883578, -0.910885385), (-32.584220059, -0.760605318), (-32.726753116, -0.411009288))
        make_face(mode=Mode.SUBTRACT)
        with Locations((-4.7625, 0)):
            Circle(IZIM1_14_R, mode=Mode.SUBTRACT)
        with Locations((-4.7625, 8.25)):
            Circle(IZIM1_14_R, mode=Mode.SUBTRACT)
        with BuildLine():
            ThreePointArc((-6.52083849, 13.87166146), (-6.463805189, 13.488058576), (-6.698178659, 13.179071446))
            Line((-6.698178659, 13.179071446), (-8.064321341, 12.3903286))
            ThreePointArc((-8.064321341, 12.3903286), (-8.44909878, 12.341848787), (-8.752791972, 12.583042517))
            Line((-8.752791972, 12.583042517), (-16.907791673, 27.46338345))
            ThreePointArc((-16.907791673, 27.46338345), (-16.950813558, 27.838459675), (-16.719321042, 28.136694938))
            Line((-16.719321042, 28.136694938), (-16.007432074, 28.547704226))
            ThreePointArc((-16.007432074, 28.547704226), (-15.633406502, 28.599064993), (-15.330091906, 28.374268836))
            Line((-15.330091906, 28.374268836), (-6.52083849, 13.87166146))
        make_face(mode=Mode.SUBTRACT)
        with Locations((4.7625, 0)):
            Circle(IZIM1_14_R, mode=Mode.SUBTRACT)
        with Locations((4.7625, 8.25)):
            Circle(IZIM1_14_R, mode=Mode.SUBTRACT)
        with BuildLine():
            ThreePointArc((32.237883578, 0.910885385), (32.584220059, 0.760605318), (32.726753116, 0.411009288))
            Line((32.726753116, 0.411009288), (32.726753116, -0.411009288))
            ThreePointArc((32.726753116, -0.411009288), (32.584220059, -0.760605318), (32.237883578, -0.910885385))
            Line((32.237883578, -0.910885385), (15.273630462, -1.288618943))
            ThreePointArc((15.273630462, -1.288618943), (14.91290397, -1.146209789), (14.7625, -0.788742846))
            Line((14.7625, -0.788742846), (14.7625, 0.788742846))
            ThreePointArc((14.7625, 0.788742846), (14.91290397, 1.146209789), (15.273630462, 1.288618943))
            Line((15.273630462, 1.288618943), (32.237883578, 0.910885385))
        make_face(mode=Mode.SUBTRACT)
        with BuildLine():
            Line((8.064321341, 12.3903286), (6.698178659, 13.179071446))
            ThreePointArc((6.698178659, 13.179071446), (6.463805189, 13.488058576), (6.52083849, 13.87166146))
            Line((6.52083849, 13.87166146), (15.330091906, 28.374268836))
            ThreePointArc((15.330091906, 28.374268836), (15.633406502, 28.599064993), (16.007432074, 28.547704226))
            Line((16.007432074, 28.547704226), (16.719321042, 28.136694938))
            ThreePointArc((16.719321042, 28.136694938), (16.950813558, 27.838459675), (16.907791673, 27.46338345))
            Line((16.907791673, 27.46338345), (8.752791972, 12.583042517))
            ThreePointArc((8.752791972, 12.583042517), (8.44909878, 12.341848787), (8.064321341, 12.3903286))
        make_face(mode=Mode.SUBTRACT)
    extrude(amount=Y_KSEKLIK_EKSTR_ZYON7_DEPTH + Y_KSEKLIK_EKSTR_ZYON7_DEPTH_BACK)

    # Çizim1<17> → Yükseklik-Ekstrüzyon8 (add, two sides: drawn at the far end of the back side and taken through both)
    with BuildSketch(Plane.XY.offset(-Y_KSEKLIK_EKSTR_ZYON8_DEPTH_BACK)):
        with BuildLine():
            ThreePointArc((2.913025402, 0), (2.180757714, 1.931324101), (0.352105211, 2.891667151))
            Line((0.352105211, 2.891667151), (0.352105211, 1.458088447))
            ThreePointArc((0.352105211, 1.458088447), (1.387985779, 0.568766629), (1.274033112, -0.791732044))
            Line((1.274033112, -0.791732044), (-1.274033112, -0.791732044))
            ThreePointArc((-1.274033112, -0.791732044), (-1.387840597, 0.569120792), (-0.351361024, 1.458267956))
            Line((-0.351361024, 1.458267956), (-0.350629391, 2.891846473))
            ThreePointArc((-0.350629391, 2.891846473), (-1.931880518, -2.180264813), (2.913025402, 0))
        make_face()
    extrude(amount=Y_KSEKLIK_EKSTR_ZYON8_DEPTH + Y_KSEKLIK_EKSTR_ZYON8_DEPTH_BACK)


solid = part.part
